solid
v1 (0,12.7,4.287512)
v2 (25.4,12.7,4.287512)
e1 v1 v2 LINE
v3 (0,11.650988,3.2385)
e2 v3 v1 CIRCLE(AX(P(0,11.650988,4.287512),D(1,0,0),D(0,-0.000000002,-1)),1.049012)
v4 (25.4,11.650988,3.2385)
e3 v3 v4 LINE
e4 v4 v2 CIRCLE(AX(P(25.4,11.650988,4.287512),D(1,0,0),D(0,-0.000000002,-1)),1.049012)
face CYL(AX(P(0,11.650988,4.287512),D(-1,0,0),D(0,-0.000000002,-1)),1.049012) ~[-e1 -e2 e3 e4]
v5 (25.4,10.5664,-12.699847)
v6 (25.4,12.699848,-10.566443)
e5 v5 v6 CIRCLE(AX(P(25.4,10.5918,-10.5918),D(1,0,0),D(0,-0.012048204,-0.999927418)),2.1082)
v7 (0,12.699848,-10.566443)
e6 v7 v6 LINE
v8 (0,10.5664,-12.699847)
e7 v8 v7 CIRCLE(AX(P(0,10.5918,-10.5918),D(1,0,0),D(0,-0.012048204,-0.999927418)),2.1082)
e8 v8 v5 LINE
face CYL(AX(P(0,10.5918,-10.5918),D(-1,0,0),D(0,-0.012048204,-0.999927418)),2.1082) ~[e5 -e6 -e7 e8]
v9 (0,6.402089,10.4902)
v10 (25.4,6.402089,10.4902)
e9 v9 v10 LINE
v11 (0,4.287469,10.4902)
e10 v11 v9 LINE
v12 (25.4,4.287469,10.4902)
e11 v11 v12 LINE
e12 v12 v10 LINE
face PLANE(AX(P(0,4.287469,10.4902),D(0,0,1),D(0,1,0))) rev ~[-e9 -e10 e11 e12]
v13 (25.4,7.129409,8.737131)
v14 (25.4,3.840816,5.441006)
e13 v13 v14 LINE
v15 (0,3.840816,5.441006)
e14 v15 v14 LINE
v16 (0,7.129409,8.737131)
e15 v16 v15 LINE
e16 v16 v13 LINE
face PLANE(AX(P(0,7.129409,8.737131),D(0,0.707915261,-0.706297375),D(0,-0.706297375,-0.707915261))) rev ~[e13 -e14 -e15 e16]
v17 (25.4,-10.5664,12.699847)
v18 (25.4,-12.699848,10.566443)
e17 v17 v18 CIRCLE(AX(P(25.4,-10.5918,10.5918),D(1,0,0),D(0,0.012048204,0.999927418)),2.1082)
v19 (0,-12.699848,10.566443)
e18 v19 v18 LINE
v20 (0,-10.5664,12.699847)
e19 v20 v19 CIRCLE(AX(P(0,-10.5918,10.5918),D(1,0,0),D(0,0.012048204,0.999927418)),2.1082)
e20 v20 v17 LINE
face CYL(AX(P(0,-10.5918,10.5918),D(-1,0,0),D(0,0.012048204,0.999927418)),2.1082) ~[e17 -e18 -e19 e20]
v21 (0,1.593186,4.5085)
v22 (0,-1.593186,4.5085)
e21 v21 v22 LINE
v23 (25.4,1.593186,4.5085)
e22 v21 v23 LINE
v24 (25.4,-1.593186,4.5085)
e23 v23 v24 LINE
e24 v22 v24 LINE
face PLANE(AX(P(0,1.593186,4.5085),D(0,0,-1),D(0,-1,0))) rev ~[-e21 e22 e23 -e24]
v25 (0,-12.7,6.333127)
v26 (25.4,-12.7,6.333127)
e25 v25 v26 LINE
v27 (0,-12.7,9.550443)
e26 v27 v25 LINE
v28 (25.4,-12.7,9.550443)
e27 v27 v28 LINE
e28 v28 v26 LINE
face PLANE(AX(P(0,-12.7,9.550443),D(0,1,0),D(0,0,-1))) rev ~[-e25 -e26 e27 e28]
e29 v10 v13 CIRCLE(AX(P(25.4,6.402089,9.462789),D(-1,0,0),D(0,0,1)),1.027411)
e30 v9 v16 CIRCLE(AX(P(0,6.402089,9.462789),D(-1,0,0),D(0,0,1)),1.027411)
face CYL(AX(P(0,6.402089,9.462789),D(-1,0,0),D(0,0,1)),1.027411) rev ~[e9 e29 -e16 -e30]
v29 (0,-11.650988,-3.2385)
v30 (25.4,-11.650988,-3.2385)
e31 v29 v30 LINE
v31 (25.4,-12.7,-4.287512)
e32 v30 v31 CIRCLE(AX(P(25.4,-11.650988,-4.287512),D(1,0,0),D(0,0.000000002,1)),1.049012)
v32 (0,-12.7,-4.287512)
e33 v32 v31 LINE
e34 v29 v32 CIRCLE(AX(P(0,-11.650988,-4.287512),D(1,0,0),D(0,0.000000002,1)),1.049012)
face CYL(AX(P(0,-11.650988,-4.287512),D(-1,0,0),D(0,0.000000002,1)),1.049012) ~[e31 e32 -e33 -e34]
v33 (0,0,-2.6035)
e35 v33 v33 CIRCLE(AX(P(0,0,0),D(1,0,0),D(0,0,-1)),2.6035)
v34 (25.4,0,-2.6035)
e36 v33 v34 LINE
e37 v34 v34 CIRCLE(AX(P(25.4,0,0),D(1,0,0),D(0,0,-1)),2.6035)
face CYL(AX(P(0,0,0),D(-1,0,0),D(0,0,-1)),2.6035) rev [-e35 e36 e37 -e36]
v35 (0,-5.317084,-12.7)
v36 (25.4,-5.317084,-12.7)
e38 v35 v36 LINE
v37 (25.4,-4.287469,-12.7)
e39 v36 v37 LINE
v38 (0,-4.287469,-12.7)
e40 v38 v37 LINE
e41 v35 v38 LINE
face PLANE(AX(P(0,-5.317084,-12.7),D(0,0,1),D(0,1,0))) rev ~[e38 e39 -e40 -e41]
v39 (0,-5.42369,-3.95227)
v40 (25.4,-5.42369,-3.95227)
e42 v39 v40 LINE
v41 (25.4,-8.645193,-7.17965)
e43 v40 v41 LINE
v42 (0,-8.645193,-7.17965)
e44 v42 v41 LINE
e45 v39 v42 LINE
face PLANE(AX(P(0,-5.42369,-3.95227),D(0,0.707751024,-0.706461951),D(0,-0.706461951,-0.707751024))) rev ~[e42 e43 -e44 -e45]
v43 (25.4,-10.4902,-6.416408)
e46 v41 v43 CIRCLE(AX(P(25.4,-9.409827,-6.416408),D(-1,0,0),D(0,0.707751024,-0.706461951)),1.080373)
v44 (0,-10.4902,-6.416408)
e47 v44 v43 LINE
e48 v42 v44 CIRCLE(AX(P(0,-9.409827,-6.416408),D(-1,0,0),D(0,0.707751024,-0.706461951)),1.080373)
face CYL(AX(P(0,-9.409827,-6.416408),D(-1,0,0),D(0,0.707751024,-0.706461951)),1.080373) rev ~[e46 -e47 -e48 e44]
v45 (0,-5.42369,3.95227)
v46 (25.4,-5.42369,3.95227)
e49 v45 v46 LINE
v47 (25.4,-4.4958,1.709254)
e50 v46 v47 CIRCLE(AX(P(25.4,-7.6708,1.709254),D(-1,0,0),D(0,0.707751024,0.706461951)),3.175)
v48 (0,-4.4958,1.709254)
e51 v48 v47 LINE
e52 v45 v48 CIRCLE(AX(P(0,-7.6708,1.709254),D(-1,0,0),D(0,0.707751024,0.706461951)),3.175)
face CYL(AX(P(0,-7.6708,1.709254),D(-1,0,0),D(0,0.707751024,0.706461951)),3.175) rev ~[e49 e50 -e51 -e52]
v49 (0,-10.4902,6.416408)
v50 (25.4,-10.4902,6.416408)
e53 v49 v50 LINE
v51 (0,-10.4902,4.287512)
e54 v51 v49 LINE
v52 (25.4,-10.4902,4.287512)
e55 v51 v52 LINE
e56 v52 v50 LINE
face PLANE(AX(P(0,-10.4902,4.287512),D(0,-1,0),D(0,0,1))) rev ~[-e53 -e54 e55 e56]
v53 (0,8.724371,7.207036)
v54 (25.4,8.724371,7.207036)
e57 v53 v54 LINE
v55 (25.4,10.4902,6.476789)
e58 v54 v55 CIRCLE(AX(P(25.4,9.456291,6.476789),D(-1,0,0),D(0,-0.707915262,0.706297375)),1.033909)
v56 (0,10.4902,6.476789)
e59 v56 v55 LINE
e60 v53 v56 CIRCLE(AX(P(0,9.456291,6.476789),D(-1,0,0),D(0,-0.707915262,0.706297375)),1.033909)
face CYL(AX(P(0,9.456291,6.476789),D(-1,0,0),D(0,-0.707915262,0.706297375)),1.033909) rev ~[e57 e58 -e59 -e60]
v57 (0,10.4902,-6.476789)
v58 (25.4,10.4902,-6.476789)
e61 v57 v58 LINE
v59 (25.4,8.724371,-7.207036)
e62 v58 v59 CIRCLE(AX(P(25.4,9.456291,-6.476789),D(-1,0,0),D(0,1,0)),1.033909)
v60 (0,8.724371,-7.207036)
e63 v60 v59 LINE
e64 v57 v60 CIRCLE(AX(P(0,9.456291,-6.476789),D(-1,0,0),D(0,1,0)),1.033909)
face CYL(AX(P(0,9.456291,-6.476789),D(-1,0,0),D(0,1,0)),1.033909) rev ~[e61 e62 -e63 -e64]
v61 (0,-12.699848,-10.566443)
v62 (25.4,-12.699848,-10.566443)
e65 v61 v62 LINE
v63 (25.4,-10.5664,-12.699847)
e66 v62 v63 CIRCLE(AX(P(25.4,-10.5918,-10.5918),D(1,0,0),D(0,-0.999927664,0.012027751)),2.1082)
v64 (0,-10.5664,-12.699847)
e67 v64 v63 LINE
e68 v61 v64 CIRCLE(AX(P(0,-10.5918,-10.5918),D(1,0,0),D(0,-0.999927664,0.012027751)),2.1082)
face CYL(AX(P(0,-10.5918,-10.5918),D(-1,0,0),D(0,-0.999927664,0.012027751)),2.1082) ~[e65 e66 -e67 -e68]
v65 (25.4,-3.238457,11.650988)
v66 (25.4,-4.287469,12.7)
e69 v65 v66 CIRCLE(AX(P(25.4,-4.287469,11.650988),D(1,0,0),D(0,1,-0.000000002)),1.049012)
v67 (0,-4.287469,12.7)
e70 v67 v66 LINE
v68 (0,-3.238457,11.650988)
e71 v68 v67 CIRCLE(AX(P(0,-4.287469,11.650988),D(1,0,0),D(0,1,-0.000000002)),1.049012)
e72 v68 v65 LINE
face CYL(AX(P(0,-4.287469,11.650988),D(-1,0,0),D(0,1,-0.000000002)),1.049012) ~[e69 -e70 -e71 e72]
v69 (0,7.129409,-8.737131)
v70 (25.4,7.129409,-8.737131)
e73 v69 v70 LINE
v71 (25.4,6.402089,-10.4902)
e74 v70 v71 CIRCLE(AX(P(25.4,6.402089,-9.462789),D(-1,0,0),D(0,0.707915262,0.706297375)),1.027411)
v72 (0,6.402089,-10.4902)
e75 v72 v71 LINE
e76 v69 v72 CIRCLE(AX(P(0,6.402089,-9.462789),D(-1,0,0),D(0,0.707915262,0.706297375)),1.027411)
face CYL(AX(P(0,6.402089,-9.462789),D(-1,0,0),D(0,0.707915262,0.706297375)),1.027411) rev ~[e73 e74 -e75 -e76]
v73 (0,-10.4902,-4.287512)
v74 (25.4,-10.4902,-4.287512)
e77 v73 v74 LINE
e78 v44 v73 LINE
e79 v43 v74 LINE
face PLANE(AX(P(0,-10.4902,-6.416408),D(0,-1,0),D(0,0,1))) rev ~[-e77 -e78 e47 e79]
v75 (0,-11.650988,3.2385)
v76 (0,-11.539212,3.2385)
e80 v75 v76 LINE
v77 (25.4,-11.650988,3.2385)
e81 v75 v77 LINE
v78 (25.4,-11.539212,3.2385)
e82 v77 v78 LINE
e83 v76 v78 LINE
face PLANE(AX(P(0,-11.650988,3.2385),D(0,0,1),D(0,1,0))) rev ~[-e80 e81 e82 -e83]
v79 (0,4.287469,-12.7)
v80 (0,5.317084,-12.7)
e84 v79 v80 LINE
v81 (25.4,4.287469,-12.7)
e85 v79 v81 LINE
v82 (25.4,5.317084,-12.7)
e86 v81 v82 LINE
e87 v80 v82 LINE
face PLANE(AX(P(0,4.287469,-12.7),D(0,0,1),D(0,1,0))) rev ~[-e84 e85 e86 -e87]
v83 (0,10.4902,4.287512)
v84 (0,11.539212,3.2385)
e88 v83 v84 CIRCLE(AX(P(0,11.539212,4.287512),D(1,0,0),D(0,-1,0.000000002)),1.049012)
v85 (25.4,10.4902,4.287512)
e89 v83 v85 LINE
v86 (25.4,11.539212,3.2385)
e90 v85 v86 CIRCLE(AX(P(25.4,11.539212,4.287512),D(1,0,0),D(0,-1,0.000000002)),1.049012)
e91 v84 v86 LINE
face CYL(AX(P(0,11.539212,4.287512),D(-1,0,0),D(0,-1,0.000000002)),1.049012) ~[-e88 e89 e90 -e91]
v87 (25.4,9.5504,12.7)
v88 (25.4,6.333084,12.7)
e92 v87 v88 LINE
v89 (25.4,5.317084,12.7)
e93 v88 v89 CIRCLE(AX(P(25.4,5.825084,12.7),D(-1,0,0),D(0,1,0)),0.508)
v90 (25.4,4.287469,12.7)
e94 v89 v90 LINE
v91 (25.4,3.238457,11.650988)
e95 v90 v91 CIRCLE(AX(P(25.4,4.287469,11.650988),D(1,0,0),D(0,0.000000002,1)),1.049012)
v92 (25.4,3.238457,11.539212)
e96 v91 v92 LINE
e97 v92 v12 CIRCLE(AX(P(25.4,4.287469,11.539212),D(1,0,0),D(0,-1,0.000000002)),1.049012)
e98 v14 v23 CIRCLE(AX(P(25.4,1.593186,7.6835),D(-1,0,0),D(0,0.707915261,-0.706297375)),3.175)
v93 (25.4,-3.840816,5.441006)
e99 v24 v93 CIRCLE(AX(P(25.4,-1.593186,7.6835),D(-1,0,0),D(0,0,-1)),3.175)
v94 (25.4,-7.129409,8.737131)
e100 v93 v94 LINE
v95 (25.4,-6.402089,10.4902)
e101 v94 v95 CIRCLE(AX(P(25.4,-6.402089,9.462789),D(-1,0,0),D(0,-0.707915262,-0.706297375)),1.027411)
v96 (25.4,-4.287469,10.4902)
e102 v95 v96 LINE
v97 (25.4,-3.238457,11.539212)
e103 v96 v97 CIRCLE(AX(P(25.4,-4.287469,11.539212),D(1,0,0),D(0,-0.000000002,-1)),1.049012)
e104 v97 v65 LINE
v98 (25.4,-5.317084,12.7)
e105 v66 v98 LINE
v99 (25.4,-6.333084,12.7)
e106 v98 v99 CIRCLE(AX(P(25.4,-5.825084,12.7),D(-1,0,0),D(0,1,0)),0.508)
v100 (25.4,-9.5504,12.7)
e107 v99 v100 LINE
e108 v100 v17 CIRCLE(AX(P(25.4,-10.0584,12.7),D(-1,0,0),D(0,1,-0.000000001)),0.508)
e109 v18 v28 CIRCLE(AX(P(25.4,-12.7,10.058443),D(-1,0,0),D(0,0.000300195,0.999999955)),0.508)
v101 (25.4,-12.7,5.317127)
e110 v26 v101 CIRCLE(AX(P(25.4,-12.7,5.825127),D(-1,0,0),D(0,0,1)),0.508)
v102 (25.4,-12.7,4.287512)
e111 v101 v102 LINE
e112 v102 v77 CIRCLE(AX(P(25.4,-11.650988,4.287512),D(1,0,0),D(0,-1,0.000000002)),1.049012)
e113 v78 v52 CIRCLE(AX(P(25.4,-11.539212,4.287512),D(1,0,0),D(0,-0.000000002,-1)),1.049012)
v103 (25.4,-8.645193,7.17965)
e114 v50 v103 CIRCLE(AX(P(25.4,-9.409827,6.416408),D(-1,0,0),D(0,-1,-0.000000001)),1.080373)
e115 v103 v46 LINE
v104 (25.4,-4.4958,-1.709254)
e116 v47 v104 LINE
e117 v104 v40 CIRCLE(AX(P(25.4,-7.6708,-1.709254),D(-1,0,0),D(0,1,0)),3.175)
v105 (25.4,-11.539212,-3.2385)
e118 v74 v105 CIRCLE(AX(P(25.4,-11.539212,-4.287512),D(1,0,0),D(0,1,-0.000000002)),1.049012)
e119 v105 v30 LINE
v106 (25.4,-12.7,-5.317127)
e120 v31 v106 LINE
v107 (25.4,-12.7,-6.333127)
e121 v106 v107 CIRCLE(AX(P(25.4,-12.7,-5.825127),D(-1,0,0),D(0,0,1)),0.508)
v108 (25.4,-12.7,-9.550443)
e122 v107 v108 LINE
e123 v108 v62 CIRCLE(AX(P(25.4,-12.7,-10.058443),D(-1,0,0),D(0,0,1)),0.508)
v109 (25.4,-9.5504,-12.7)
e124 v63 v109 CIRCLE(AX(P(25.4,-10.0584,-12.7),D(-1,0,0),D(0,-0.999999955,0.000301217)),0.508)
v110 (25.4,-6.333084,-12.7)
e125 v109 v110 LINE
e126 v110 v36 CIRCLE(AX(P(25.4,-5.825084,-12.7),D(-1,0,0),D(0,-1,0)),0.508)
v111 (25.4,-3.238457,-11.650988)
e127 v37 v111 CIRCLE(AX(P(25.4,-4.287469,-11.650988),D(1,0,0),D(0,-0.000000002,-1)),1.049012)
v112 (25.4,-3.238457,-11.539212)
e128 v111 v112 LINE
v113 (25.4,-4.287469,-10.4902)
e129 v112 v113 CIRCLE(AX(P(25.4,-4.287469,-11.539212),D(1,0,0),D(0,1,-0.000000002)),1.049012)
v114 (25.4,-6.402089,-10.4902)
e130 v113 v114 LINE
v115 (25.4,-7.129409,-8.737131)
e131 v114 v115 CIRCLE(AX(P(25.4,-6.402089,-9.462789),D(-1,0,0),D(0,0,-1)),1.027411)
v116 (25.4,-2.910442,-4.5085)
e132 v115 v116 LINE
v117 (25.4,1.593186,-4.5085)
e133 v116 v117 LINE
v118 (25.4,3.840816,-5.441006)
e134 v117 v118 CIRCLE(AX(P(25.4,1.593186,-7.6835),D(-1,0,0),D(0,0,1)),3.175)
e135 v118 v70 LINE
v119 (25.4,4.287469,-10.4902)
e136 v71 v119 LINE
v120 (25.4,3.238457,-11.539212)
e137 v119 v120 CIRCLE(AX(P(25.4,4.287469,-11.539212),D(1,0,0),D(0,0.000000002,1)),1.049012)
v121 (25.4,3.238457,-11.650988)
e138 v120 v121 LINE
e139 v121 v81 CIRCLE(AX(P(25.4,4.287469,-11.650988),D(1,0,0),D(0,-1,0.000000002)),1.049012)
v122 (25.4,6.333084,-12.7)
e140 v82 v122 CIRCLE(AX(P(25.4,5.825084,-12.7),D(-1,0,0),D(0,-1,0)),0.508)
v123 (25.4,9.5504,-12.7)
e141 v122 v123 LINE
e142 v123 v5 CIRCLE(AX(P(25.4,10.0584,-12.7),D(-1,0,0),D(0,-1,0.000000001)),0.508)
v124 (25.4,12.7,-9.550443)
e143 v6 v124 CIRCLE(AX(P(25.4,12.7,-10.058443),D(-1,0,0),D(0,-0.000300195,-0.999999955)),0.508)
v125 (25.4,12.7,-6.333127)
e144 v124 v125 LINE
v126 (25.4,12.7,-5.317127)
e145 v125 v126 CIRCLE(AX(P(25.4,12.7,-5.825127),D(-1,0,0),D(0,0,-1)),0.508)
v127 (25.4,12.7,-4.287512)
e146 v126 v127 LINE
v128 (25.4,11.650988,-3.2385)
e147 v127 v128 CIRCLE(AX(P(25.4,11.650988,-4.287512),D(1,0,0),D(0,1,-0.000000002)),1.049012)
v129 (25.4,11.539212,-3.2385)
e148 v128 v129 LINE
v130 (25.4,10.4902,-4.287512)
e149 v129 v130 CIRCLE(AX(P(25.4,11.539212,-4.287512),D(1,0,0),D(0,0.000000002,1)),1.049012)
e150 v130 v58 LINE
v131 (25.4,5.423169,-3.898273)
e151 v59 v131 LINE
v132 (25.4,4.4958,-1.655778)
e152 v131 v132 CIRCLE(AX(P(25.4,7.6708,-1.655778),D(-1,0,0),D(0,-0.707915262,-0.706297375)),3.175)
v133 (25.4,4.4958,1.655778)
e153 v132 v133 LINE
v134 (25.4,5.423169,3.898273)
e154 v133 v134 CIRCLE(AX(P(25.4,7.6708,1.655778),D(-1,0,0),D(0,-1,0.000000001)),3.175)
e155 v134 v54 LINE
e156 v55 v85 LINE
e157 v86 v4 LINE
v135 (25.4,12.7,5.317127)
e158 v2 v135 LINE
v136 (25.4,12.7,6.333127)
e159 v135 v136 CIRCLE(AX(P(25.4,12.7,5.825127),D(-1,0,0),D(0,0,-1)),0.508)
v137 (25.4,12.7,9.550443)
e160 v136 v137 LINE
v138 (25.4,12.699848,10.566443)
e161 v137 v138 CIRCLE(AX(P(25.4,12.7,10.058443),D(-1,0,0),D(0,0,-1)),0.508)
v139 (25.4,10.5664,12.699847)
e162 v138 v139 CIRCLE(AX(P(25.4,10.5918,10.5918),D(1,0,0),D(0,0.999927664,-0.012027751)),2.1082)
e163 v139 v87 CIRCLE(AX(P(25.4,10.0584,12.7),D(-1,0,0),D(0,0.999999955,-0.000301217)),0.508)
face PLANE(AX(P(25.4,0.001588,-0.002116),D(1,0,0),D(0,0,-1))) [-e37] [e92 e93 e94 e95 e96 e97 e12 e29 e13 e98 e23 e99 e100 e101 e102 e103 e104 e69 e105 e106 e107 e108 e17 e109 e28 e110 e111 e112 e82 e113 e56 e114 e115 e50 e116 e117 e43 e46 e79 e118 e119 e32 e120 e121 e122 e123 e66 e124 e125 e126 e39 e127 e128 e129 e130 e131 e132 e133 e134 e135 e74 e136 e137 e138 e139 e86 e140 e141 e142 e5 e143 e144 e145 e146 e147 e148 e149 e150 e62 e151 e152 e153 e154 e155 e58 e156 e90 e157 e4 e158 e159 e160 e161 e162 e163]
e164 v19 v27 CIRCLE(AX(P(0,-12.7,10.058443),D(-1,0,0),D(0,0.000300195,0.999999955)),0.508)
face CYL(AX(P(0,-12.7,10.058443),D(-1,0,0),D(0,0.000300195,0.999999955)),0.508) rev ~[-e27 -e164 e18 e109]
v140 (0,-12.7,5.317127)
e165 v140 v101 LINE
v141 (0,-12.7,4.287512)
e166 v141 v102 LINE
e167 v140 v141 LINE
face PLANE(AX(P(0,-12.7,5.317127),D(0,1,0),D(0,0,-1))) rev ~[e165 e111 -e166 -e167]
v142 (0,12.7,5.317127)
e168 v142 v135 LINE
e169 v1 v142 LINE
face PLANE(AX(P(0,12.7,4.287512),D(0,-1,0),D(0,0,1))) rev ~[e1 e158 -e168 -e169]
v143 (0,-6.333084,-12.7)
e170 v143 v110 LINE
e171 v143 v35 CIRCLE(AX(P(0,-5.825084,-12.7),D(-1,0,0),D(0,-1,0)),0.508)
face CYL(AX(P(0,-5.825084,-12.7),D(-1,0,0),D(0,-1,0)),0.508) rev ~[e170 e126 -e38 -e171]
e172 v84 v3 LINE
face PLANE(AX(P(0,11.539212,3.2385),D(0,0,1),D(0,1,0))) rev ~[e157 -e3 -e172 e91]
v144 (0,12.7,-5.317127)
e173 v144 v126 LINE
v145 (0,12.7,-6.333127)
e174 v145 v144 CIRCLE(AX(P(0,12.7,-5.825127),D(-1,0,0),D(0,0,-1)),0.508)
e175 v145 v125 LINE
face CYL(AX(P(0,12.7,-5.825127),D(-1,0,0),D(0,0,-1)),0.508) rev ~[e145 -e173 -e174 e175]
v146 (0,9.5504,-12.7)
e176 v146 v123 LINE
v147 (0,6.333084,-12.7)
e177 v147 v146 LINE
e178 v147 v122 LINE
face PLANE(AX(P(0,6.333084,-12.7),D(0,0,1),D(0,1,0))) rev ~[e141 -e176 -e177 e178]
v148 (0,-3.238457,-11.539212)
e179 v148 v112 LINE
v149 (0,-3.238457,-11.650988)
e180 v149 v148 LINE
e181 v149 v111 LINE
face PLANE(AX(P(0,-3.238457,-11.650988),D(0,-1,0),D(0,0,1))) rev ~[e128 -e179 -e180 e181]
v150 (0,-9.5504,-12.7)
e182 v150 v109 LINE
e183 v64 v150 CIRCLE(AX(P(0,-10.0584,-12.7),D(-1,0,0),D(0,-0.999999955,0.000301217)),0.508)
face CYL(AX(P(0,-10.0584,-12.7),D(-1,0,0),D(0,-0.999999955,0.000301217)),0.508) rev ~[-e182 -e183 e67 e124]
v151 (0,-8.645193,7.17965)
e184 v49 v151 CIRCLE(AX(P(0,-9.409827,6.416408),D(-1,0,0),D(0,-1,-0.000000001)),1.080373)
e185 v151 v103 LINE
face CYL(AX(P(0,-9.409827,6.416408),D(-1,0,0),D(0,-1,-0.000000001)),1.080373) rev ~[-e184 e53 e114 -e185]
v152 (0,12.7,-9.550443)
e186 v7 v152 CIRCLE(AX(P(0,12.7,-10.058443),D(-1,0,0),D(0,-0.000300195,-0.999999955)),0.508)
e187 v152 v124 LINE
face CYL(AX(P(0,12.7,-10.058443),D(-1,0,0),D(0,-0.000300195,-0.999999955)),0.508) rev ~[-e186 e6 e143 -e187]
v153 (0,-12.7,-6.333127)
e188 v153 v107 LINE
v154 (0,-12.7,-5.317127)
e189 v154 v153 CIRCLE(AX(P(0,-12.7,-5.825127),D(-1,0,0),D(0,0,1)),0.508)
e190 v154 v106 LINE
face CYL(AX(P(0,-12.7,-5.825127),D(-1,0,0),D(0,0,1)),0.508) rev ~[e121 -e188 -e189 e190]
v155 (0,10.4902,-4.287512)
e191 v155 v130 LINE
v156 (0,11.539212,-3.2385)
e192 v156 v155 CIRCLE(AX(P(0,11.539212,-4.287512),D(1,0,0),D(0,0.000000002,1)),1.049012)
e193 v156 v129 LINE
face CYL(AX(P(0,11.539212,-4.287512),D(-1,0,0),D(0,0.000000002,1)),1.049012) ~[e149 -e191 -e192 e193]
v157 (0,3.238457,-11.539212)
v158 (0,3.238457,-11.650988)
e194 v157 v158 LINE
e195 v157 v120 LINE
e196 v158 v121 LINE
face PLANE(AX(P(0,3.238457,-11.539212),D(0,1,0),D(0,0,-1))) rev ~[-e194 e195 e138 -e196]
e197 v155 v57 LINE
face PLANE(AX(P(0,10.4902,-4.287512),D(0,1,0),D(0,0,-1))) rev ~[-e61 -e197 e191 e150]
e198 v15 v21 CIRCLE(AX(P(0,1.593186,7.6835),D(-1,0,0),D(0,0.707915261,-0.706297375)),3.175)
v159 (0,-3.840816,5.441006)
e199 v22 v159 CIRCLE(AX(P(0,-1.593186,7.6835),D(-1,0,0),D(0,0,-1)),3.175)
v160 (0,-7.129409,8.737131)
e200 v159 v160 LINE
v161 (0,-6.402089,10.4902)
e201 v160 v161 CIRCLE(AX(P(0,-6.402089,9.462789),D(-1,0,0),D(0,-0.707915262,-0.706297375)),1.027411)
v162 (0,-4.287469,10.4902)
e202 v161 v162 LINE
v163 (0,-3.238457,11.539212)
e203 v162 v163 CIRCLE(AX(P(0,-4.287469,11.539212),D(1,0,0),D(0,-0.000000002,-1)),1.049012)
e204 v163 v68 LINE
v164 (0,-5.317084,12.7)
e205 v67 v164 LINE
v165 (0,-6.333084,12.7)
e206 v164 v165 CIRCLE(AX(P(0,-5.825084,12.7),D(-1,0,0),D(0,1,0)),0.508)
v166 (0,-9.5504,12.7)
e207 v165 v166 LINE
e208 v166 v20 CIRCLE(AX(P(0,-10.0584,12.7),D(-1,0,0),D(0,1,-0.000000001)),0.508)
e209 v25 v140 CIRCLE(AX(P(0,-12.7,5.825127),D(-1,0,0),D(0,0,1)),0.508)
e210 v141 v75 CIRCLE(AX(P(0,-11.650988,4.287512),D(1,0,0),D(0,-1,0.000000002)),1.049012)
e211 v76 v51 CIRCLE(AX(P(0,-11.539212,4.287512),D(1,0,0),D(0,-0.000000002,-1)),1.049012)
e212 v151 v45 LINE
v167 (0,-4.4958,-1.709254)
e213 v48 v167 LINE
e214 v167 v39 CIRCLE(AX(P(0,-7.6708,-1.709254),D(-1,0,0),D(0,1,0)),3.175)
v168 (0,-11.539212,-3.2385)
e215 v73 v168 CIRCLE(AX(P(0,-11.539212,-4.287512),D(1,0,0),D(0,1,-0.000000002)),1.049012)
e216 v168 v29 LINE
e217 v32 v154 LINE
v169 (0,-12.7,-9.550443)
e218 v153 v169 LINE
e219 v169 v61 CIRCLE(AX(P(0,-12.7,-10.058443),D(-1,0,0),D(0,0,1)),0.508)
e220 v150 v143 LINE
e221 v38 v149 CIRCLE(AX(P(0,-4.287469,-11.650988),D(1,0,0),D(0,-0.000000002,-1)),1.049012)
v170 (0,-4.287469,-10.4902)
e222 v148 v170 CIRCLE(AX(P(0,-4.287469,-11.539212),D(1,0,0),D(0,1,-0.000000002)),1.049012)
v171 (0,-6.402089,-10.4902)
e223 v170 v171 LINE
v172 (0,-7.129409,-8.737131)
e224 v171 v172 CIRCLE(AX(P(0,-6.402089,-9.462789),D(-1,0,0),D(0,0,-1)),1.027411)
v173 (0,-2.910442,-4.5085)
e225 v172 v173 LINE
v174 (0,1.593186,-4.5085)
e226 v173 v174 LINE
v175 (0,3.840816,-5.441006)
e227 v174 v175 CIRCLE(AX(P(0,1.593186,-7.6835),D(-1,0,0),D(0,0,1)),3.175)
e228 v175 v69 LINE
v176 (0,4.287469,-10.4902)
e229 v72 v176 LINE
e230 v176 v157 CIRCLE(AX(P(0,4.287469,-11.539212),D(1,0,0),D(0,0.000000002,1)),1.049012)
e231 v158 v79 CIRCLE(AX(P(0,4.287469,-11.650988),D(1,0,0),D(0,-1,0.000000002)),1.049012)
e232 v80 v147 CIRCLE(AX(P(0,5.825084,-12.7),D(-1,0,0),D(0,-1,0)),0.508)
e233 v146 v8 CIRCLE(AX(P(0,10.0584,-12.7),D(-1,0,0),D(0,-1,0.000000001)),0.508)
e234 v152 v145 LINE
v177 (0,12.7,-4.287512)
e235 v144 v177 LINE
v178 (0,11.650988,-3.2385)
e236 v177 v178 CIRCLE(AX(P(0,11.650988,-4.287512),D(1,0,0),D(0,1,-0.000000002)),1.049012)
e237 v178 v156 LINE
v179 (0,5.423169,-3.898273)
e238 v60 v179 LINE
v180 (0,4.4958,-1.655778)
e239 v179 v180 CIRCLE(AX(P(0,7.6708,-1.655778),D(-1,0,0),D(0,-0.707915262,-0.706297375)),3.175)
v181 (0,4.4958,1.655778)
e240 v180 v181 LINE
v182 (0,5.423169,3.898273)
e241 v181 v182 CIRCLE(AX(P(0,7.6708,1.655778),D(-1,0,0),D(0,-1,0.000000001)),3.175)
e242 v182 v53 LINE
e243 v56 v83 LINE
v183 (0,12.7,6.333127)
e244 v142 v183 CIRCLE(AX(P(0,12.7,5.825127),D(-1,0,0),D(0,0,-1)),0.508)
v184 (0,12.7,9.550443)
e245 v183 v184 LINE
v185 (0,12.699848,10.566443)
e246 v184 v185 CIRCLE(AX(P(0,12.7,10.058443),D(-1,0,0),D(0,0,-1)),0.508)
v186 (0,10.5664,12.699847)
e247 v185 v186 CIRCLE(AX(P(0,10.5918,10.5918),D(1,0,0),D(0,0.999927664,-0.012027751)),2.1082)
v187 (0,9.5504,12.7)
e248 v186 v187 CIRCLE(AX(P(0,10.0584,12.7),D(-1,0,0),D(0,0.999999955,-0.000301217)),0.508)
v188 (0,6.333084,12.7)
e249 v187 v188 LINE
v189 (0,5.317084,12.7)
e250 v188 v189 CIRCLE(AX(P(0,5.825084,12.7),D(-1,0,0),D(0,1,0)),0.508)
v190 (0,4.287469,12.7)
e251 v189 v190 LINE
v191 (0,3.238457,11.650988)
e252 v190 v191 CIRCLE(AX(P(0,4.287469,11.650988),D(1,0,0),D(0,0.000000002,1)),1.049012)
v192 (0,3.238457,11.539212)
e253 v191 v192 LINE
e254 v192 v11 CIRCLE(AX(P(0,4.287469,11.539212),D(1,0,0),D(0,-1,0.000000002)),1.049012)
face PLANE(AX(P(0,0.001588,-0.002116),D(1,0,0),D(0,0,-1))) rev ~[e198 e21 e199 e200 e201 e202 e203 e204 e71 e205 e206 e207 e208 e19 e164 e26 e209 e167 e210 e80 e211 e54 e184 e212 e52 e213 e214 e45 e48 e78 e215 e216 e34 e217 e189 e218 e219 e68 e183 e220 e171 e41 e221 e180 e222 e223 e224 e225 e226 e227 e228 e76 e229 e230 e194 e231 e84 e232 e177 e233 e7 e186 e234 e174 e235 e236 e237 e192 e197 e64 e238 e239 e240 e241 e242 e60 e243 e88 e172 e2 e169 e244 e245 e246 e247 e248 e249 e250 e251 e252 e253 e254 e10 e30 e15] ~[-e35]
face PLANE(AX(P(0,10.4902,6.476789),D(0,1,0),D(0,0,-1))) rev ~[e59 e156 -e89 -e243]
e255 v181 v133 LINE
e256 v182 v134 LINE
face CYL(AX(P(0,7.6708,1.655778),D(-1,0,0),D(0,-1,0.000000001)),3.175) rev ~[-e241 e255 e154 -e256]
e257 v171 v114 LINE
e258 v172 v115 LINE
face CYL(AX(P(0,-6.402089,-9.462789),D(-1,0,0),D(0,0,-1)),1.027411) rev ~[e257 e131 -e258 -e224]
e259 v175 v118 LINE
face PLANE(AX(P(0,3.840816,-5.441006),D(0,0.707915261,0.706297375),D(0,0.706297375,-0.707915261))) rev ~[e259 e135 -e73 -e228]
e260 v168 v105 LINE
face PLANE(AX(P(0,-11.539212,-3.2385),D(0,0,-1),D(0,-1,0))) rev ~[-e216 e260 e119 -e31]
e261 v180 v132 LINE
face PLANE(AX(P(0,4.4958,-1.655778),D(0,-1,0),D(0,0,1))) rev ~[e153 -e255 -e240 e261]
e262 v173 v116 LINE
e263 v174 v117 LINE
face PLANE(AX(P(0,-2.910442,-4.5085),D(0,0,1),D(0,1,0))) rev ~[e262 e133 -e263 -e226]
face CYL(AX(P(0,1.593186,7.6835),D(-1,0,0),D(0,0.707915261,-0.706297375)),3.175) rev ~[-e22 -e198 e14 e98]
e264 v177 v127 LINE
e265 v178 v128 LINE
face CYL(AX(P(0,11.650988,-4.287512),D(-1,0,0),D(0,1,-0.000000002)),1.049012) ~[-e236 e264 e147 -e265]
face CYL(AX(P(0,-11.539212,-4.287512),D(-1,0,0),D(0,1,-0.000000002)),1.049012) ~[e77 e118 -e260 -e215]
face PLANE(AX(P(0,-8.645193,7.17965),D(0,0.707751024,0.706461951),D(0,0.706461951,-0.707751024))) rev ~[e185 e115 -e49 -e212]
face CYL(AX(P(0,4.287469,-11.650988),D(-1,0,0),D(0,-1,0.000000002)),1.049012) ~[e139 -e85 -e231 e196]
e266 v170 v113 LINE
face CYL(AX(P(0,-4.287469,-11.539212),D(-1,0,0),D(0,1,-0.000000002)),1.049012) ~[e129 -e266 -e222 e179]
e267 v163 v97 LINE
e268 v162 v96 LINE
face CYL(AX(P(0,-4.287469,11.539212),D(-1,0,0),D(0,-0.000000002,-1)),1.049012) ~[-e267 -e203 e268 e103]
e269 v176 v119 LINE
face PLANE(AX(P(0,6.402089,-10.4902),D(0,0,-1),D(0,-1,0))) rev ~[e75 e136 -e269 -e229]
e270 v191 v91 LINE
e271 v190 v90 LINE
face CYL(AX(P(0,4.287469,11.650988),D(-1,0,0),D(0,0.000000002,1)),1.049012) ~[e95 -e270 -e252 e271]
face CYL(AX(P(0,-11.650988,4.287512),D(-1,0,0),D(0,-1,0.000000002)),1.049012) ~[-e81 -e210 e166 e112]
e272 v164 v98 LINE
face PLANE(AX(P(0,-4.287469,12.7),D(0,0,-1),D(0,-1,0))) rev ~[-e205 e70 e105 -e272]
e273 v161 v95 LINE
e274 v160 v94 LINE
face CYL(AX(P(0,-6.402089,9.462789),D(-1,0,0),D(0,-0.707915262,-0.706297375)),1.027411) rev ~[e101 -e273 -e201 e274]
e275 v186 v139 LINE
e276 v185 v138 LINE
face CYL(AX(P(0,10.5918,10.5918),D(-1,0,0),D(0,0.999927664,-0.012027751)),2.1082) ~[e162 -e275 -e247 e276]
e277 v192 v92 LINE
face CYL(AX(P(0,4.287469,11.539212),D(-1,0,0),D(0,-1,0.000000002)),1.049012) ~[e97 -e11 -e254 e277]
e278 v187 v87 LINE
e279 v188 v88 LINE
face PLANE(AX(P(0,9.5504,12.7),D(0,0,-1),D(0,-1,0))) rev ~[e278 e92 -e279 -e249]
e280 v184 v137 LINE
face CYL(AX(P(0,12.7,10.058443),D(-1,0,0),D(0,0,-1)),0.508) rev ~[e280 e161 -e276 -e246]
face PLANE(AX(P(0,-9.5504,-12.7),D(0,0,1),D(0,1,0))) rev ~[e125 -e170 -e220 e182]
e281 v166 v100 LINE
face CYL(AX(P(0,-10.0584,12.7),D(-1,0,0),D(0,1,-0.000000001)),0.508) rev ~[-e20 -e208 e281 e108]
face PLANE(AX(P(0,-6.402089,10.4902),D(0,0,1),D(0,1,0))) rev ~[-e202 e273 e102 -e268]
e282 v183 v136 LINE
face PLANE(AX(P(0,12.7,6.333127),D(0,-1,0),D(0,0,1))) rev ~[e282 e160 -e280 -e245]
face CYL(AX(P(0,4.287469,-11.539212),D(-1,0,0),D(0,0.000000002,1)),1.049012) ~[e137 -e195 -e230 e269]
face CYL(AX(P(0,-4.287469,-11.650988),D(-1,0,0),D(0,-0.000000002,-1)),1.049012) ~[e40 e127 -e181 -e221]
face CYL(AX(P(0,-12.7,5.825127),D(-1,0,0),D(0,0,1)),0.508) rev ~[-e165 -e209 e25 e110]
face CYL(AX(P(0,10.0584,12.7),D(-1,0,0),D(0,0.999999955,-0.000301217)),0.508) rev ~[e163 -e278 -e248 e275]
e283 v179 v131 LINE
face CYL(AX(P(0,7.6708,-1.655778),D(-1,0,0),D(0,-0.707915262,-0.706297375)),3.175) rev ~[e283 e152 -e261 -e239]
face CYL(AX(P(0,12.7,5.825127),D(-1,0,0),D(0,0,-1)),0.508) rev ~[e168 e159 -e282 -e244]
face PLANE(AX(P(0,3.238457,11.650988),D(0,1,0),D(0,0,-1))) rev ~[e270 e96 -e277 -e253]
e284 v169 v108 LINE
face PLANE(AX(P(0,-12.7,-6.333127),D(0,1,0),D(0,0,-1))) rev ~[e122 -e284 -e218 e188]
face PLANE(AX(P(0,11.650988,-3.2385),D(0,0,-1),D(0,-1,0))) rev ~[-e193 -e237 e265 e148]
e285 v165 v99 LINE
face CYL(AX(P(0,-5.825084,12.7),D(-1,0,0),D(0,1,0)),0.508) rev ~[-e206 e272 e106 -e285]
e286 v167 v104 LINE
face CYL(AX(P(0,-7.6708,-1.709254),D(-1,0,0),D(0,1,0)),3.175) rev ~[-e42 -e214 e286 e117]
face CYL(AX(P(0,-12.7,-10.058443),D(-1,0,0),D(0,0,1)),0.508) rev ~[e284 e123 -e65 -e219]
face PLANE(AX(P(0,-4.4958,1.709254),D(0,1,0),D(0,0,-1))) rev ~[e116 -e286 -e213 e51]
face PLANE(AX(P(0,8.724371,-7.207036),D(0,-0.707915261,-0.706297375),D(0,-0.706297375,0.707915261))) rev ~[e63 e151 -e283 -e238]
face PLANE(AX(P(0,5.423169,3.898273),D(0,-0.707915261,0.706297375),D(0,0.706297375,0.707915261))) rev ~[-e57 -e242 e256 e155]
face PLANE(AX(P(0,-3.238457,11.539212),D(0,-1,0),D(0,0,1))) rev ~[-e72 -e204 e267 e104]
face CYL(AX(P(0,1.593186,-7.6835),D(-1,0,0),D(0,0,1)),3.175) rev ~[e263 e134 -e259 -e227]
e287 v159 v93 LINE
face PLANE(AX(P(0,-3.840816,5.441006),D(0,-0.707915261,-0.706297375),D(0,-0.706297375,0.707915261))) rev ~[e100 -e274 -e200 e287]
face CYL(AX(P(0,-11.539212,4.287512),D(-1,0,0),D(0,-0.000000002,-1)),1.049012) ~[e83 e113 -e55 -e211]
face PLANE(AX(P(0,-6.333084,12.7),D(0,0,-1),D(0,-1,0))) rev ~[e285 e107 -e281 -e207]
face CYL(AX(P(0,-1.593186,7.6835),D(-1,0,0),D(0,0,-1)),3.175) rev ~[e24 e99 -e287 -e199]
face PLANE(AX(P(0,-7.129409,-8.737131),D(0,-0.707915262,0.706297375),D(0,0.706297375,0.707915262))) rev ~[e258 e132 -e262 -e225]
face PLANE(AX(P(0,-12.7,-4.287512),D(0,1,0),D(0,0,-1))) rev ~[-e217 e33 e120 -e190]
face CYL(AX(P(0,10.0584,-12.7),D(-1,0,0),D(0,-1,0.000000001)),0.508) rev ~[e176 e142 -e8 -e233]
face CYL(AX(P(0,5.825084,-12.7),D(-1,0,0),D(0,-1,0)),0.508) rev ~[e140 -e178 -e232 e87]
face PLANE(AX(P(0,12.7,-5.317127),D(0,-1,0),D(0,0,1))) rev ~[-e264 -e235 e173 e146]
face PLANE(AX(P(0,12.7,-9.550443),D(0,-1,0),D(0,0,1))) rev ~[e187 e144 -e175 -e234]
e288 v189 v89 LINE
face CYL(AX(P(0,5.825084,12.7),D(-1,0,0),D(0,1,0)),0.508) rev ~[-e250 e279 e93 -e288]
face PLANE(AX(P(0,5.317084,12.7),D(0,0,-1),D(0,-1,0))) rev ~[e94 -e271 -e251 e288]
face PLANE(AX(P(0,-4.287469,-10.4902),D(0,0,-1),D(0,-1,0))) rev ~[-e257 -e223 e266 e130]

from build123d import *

# Parameters (mm, degrees)
SKETCH1_R           = 2.6035
BOSS_EXTRUDE1_DEPTH = 25.4


with BuildPart() as part:
    # Sketch1 → Boss-Extrude1 (new body)
    with BuildSketch(Plane(origin=(0, 0, 0), x_dir=(0, 0, -1), z_dir=(1, 0, 0))):
        with BuildLine():
            Line((6.333126718, -12.7), (9.550443118, -12.7))
            ThreePointArc((9.550443118, -12.7), (10.058366869, -12.192000006), (10.566443095, -12.699847501))
            ThreePointArc((10.566443095, -12.699847501), (12.082537762, -12.08250727), (12.699846982, -10.566399977))
            ThreePointArc((12.699846982, -10.566399977), (12.192000006, -10.058323491), (12.7, -9.5504))
            Line((12.7, -9.5504), (12.7, -6.3330836))
            ThreePointArc((12.7, -6.3330836), (12.192, -5.8250836), (12.7, -5.3170836))
            Line((12.7, -5.3170836), (12.7, -4.287469289))
            ThreePointArc((12.7, -4.287469289), (12.39275138, -3.545705502), (11.650987593, -3.238456882))
            Line((11.650987593, -3.238456882), (11.539212407, -3.238456882))
            ThreePointArc((11.539212407, -3.238456882), (10.79744862, -3.545705502), (10.4902, -4.287469289))
            Line((10.4902, -4.287469289), (10.4902, -6.402089023))
            ThreePointArc((10.4902, -6.402089023), (9.856505071, -7.351067942), (8.737131347, -7.129408934))
            Line((8.737131347, -7.129408934), (4.5085, -2.9104418))
            Line((4.5085, -2.9104418), (4.5085, 1.593185507))
            ThreePointArc((4.5085, 1.593185507), (4.750877967, 2.809883091), (5.441005833, 3.840816462))
            Line((5.441005833, 3.840816462), (8.737131347, 7.129408934))
            ThreePointArc((8.737131347, 7.129408934), (9.856505071, 7.351067942), (10.4902, 6.402089023))
            Line((10.4902, 6.402089023), (10.4902, 4.287469289))
            ThreePointArc((10.4902, 4.287469289), (10.79744862, 3.545705502), (11.539212407, 3.238456882))
            Line((11.539212407, 3.238456882), (11.650987593, 3.238456882))
            ThreePointArc((11.650987593, 3.238456882), (12.39275138, 3.545705502), (12.7, 4.287469289))
            Line((12.7, 4.287469289), (12.7, 5.3170836))
            ThreePointArc((12.7, 5.3170836), (12.192, 5.8250836), (12.7, 6.3330836))
            Line((12.7, 6.3330836), (12.7, 9.5504))
            ThreePointArc((12.7, 9.5504), (12.192000006, 10.058323491), (12.699846982, 10.566399977))
            ThreePointArc((12.699846982, 10.566399977), (12.082537762, 12.08250727), (10.566443095, 12.699847501))
            ThreePointArc((10.566443095, 12.699847501), (10.058366869, 12.192000006), (9.550443118, 12.7))
            Line((9.550443118, 12.7), (6.333126718, 12.7))
            ThreePointArc((6.333126718, 12.7), (5.825126718, 12.192), (5.317126718, 12.7))
            Line((5.317126718, 12.7), (4.287512407, 12.7))
            ThreePointArc((4.287512407, 12.7), (3.54574862, 12.39275138), (3.2385, 11.650987593))
            Line((3.2385, 11.650987593), (3.2385, 11.539212407))
            ThreePointArc((3.2385, 11.539212407), (3.54574862, 10.79744862), (4.287512407, 10.4902))
            Line((4.287512407, 10.4902), (6.476788598, 10.4902))
            ThreePointArc((6.476788598, 10.4902), (7.432222385, 9.85140422), (7.207036008, 8.724370562))
            Line((7.207036008, 8.724370562), (3.898272566, 5.423169045))
            ThreePointArc((3.898272566, 5.423169045), (2.869120213, 4.736787962), (1.655778399, 4.4958))
            Line((1.655778399, 4.4958), (-1.655778399, 4.4958))
            ThreePointArc((-1.655778399, 4.4958), (-2.869120213, 4.736787962), (-3.898272566, 5.423169045))
            Line((-3.898272566, 5.423169045), (-7.207036008, 8.724370562))
            ThreePointArc((-7.207036008, 8.724370562), (-7.432222385, 9.85140422), (-6.476788598, 10.4902))
            Line((-6.476788598, 10.4902), (-4.287512407, 10.4902))
            ThreePointArc((-4.287512407, 10.4902), (-3.54574862, 10.79744862), (-3.2385, 11.539212407))
            Line((-3.2385, 11.539212407), (-3.2385, 11.650987593))
            ThreePointArc((-3.2385, 11.650987593), (-3.54574862, 12.39275138), (-4.287512407, 12.7))
            Line((-4.287512407, 12.7), (-5.317126718, 12.7))
            ThreePointArc((-5.317126718, 12.7), (-5.825126718, 12.192), (-6.333126718, 12.7))
            Line((-6.333126718, 12.7), (-9.550443118, 12.7))
            ThreePointArc((-9.550443118, 12.7), (-10.058366869, 12.192000006), (-10.566443095, 12.699847501))
            ThreePointArc((-10.566443095, 12.699847501), (-12.082537762, 12.08250727), (-12.699846982, 10.566399977))
            ThreePointArc((-12.699846982, 10.566399977), (-12.192000006, 10.058323491), (-12.7, 9.5504))
            Line((-12.7, 9.5504), (-12.7, 6.3330836))
            ThreePointArc((-12.7, 6.3330836), (-12.192, 5.8250836), (-12.7, 5.3170836))
            Line((-12.7, 5.3170836), (-12.7, 4.287469289))
            ThreePointArc((-12.7, 4.287469289), (-12.39275138, 3.545705502), (-11.650987593, 3.238456882))
            Line((-11.650987593, 3.238456882), (-11.539212407, 3.238456882))
            ThreePointArc((-11.539212407, 3.238456882), (-10.79744862, 3.545705502), (-10.4902, 4.287469289))
            Line((-10.4902, 4.287469289), (-10.4902, 6.402089023))
            ThreePointArc((-10.4902, 6.402089023), (-9.856505071, 7.351067942), (-8.737131347, 7.129408934))
            Line((-8.737131347, 7.129408934), (-5.441005833, 3.840816462))
            ThreePointArc((-5.441005833, 3.840816462), (-4.750877967, 2.809883091), (-4.5085, 1.593185507))
            Line((-4.5085, 1.593185507), (-4.5085, -1.593185507))
            ThreePointArc((-4.5085, -1.593185507), (-4.750877967, -2.809883091), (-5.441005833, -3.840816462))
            Line((-5.441005833, -3.840816462), (-8.737131347, -7.129408934))
            ThreePointArc((-8.737131347, -7.129408934), (-9.856505071, -7.351067942), (-10.4902, -6.402089023))
            Line((-10.4902, -6.402089023), (-10.4902, -4.287469289))
            ThreePointArc((-10.4902, -4.287469289), (-10.79744862, -3.545705502), (-11.539212407, -3.238456882))
            Line((-11.539212407, -3.238456882), (-11.650987593, -3.238456882))
            ThreePointArc((-11.650987593, -3.238456882), (-12.39275138, -3.545705502), (-12.7, -4.287469289))
            Line((-12.7, -4.287469289), (-12.7, -5.3170836))
            ThreePointArc((-12.7, -5.3170836), (-12.192, -5.8250836), (-12.7, -6.3330836))
            Line((-12.7, -6.3330836), (-12.7, -9.5504))
            ThreePointArc((-12.7, -9.5504), (-12.192000006, -10.058323491), (-12.699846982, -10.566399977))
            ThreePointArc((-12.699846982, -10.566399977), (-12.082537762, -12.08250727), (-10.566443095, -12.699847501))
            ThreePointArc((-10.566443095, -12.699847501), (-10.058366869, -12.192000006), (-9.550443118, -12.7))
            Line((-9.550443118, -12.7), (-6.333126718, -12.7))
            ThreePointArc((-6.333126718, -12.7), (-5.825126718, -12.192), (-5.317126718, -12.7))
            Line((-5.317126718, -12.7), (-4.287512407, -12.7))
            ThreePointArc((-4.287512407, -12.7), (-3.54574862, -12.39275138), (-3.2385, -11.650987593))
            Line((-3.2385, -11.650987593), (-3.2385, -11.539212407))
            ThreePointArc((-3.2385, -11.539212407), (-3.54574862, -10.79744862), (-4.287512407, -10.4902))
            Line((-4.287512407, -10.4902), (-6.416408329, -10.4902))
            ThreePointArc((-6.416408329, -10.4902), (-7.41473083, -9.822813117), (-7.179650497, -8.645192506))
            Line((-7.179650497, -8.645192506), (-3.952270251, -5.423690499))
            ThreePointArc((-3.952270251, -5.423690499), (-2.922936451, -4.736929036), (-1.709253557, -4.4958))
            Line((-1.709253557, -4.4958), (1.709253557, -4.4958))
            ThreePointArc((1.709253557, -4.4958), (2.922936451, -4.736929036), (3.952270251, -5.423690499))
            Line((3.952270251, -5.423690499), (7.179650497, -8.645192506))
            ThreePointArc((7.179650497, -8.645192506), (7.41473083, -9.822813117), (6.416408329, -10.4902))
            Line((6.416408329, -10.4902), (4.287512407, -10.4902))
            ThreePointArc((4.287512407, -10.4902), (3.54574862, -10.79744862), (3.2385, -11.539212407))
            Line((3.2385, -11.539212407), (3.2385, -11.650987593))
            ThreePointArc((3.2385, -11.650987593), (3.54574862, -12.39275138), (4.287512407, -12.7))
            Line((4.287512407, -12.7), (5.317126718, -12.7))
            ThreePointArc((5.317126718, -12.7), (5.825126718, -12.192), (6.333126718, -12.7))
        make_face()
        Circle(SKETCH1_R, mode=Mode.SUBTRACT)
    extrude(amount=BOSS_EXTRUDE1_DEPTH)


solid = part.part
